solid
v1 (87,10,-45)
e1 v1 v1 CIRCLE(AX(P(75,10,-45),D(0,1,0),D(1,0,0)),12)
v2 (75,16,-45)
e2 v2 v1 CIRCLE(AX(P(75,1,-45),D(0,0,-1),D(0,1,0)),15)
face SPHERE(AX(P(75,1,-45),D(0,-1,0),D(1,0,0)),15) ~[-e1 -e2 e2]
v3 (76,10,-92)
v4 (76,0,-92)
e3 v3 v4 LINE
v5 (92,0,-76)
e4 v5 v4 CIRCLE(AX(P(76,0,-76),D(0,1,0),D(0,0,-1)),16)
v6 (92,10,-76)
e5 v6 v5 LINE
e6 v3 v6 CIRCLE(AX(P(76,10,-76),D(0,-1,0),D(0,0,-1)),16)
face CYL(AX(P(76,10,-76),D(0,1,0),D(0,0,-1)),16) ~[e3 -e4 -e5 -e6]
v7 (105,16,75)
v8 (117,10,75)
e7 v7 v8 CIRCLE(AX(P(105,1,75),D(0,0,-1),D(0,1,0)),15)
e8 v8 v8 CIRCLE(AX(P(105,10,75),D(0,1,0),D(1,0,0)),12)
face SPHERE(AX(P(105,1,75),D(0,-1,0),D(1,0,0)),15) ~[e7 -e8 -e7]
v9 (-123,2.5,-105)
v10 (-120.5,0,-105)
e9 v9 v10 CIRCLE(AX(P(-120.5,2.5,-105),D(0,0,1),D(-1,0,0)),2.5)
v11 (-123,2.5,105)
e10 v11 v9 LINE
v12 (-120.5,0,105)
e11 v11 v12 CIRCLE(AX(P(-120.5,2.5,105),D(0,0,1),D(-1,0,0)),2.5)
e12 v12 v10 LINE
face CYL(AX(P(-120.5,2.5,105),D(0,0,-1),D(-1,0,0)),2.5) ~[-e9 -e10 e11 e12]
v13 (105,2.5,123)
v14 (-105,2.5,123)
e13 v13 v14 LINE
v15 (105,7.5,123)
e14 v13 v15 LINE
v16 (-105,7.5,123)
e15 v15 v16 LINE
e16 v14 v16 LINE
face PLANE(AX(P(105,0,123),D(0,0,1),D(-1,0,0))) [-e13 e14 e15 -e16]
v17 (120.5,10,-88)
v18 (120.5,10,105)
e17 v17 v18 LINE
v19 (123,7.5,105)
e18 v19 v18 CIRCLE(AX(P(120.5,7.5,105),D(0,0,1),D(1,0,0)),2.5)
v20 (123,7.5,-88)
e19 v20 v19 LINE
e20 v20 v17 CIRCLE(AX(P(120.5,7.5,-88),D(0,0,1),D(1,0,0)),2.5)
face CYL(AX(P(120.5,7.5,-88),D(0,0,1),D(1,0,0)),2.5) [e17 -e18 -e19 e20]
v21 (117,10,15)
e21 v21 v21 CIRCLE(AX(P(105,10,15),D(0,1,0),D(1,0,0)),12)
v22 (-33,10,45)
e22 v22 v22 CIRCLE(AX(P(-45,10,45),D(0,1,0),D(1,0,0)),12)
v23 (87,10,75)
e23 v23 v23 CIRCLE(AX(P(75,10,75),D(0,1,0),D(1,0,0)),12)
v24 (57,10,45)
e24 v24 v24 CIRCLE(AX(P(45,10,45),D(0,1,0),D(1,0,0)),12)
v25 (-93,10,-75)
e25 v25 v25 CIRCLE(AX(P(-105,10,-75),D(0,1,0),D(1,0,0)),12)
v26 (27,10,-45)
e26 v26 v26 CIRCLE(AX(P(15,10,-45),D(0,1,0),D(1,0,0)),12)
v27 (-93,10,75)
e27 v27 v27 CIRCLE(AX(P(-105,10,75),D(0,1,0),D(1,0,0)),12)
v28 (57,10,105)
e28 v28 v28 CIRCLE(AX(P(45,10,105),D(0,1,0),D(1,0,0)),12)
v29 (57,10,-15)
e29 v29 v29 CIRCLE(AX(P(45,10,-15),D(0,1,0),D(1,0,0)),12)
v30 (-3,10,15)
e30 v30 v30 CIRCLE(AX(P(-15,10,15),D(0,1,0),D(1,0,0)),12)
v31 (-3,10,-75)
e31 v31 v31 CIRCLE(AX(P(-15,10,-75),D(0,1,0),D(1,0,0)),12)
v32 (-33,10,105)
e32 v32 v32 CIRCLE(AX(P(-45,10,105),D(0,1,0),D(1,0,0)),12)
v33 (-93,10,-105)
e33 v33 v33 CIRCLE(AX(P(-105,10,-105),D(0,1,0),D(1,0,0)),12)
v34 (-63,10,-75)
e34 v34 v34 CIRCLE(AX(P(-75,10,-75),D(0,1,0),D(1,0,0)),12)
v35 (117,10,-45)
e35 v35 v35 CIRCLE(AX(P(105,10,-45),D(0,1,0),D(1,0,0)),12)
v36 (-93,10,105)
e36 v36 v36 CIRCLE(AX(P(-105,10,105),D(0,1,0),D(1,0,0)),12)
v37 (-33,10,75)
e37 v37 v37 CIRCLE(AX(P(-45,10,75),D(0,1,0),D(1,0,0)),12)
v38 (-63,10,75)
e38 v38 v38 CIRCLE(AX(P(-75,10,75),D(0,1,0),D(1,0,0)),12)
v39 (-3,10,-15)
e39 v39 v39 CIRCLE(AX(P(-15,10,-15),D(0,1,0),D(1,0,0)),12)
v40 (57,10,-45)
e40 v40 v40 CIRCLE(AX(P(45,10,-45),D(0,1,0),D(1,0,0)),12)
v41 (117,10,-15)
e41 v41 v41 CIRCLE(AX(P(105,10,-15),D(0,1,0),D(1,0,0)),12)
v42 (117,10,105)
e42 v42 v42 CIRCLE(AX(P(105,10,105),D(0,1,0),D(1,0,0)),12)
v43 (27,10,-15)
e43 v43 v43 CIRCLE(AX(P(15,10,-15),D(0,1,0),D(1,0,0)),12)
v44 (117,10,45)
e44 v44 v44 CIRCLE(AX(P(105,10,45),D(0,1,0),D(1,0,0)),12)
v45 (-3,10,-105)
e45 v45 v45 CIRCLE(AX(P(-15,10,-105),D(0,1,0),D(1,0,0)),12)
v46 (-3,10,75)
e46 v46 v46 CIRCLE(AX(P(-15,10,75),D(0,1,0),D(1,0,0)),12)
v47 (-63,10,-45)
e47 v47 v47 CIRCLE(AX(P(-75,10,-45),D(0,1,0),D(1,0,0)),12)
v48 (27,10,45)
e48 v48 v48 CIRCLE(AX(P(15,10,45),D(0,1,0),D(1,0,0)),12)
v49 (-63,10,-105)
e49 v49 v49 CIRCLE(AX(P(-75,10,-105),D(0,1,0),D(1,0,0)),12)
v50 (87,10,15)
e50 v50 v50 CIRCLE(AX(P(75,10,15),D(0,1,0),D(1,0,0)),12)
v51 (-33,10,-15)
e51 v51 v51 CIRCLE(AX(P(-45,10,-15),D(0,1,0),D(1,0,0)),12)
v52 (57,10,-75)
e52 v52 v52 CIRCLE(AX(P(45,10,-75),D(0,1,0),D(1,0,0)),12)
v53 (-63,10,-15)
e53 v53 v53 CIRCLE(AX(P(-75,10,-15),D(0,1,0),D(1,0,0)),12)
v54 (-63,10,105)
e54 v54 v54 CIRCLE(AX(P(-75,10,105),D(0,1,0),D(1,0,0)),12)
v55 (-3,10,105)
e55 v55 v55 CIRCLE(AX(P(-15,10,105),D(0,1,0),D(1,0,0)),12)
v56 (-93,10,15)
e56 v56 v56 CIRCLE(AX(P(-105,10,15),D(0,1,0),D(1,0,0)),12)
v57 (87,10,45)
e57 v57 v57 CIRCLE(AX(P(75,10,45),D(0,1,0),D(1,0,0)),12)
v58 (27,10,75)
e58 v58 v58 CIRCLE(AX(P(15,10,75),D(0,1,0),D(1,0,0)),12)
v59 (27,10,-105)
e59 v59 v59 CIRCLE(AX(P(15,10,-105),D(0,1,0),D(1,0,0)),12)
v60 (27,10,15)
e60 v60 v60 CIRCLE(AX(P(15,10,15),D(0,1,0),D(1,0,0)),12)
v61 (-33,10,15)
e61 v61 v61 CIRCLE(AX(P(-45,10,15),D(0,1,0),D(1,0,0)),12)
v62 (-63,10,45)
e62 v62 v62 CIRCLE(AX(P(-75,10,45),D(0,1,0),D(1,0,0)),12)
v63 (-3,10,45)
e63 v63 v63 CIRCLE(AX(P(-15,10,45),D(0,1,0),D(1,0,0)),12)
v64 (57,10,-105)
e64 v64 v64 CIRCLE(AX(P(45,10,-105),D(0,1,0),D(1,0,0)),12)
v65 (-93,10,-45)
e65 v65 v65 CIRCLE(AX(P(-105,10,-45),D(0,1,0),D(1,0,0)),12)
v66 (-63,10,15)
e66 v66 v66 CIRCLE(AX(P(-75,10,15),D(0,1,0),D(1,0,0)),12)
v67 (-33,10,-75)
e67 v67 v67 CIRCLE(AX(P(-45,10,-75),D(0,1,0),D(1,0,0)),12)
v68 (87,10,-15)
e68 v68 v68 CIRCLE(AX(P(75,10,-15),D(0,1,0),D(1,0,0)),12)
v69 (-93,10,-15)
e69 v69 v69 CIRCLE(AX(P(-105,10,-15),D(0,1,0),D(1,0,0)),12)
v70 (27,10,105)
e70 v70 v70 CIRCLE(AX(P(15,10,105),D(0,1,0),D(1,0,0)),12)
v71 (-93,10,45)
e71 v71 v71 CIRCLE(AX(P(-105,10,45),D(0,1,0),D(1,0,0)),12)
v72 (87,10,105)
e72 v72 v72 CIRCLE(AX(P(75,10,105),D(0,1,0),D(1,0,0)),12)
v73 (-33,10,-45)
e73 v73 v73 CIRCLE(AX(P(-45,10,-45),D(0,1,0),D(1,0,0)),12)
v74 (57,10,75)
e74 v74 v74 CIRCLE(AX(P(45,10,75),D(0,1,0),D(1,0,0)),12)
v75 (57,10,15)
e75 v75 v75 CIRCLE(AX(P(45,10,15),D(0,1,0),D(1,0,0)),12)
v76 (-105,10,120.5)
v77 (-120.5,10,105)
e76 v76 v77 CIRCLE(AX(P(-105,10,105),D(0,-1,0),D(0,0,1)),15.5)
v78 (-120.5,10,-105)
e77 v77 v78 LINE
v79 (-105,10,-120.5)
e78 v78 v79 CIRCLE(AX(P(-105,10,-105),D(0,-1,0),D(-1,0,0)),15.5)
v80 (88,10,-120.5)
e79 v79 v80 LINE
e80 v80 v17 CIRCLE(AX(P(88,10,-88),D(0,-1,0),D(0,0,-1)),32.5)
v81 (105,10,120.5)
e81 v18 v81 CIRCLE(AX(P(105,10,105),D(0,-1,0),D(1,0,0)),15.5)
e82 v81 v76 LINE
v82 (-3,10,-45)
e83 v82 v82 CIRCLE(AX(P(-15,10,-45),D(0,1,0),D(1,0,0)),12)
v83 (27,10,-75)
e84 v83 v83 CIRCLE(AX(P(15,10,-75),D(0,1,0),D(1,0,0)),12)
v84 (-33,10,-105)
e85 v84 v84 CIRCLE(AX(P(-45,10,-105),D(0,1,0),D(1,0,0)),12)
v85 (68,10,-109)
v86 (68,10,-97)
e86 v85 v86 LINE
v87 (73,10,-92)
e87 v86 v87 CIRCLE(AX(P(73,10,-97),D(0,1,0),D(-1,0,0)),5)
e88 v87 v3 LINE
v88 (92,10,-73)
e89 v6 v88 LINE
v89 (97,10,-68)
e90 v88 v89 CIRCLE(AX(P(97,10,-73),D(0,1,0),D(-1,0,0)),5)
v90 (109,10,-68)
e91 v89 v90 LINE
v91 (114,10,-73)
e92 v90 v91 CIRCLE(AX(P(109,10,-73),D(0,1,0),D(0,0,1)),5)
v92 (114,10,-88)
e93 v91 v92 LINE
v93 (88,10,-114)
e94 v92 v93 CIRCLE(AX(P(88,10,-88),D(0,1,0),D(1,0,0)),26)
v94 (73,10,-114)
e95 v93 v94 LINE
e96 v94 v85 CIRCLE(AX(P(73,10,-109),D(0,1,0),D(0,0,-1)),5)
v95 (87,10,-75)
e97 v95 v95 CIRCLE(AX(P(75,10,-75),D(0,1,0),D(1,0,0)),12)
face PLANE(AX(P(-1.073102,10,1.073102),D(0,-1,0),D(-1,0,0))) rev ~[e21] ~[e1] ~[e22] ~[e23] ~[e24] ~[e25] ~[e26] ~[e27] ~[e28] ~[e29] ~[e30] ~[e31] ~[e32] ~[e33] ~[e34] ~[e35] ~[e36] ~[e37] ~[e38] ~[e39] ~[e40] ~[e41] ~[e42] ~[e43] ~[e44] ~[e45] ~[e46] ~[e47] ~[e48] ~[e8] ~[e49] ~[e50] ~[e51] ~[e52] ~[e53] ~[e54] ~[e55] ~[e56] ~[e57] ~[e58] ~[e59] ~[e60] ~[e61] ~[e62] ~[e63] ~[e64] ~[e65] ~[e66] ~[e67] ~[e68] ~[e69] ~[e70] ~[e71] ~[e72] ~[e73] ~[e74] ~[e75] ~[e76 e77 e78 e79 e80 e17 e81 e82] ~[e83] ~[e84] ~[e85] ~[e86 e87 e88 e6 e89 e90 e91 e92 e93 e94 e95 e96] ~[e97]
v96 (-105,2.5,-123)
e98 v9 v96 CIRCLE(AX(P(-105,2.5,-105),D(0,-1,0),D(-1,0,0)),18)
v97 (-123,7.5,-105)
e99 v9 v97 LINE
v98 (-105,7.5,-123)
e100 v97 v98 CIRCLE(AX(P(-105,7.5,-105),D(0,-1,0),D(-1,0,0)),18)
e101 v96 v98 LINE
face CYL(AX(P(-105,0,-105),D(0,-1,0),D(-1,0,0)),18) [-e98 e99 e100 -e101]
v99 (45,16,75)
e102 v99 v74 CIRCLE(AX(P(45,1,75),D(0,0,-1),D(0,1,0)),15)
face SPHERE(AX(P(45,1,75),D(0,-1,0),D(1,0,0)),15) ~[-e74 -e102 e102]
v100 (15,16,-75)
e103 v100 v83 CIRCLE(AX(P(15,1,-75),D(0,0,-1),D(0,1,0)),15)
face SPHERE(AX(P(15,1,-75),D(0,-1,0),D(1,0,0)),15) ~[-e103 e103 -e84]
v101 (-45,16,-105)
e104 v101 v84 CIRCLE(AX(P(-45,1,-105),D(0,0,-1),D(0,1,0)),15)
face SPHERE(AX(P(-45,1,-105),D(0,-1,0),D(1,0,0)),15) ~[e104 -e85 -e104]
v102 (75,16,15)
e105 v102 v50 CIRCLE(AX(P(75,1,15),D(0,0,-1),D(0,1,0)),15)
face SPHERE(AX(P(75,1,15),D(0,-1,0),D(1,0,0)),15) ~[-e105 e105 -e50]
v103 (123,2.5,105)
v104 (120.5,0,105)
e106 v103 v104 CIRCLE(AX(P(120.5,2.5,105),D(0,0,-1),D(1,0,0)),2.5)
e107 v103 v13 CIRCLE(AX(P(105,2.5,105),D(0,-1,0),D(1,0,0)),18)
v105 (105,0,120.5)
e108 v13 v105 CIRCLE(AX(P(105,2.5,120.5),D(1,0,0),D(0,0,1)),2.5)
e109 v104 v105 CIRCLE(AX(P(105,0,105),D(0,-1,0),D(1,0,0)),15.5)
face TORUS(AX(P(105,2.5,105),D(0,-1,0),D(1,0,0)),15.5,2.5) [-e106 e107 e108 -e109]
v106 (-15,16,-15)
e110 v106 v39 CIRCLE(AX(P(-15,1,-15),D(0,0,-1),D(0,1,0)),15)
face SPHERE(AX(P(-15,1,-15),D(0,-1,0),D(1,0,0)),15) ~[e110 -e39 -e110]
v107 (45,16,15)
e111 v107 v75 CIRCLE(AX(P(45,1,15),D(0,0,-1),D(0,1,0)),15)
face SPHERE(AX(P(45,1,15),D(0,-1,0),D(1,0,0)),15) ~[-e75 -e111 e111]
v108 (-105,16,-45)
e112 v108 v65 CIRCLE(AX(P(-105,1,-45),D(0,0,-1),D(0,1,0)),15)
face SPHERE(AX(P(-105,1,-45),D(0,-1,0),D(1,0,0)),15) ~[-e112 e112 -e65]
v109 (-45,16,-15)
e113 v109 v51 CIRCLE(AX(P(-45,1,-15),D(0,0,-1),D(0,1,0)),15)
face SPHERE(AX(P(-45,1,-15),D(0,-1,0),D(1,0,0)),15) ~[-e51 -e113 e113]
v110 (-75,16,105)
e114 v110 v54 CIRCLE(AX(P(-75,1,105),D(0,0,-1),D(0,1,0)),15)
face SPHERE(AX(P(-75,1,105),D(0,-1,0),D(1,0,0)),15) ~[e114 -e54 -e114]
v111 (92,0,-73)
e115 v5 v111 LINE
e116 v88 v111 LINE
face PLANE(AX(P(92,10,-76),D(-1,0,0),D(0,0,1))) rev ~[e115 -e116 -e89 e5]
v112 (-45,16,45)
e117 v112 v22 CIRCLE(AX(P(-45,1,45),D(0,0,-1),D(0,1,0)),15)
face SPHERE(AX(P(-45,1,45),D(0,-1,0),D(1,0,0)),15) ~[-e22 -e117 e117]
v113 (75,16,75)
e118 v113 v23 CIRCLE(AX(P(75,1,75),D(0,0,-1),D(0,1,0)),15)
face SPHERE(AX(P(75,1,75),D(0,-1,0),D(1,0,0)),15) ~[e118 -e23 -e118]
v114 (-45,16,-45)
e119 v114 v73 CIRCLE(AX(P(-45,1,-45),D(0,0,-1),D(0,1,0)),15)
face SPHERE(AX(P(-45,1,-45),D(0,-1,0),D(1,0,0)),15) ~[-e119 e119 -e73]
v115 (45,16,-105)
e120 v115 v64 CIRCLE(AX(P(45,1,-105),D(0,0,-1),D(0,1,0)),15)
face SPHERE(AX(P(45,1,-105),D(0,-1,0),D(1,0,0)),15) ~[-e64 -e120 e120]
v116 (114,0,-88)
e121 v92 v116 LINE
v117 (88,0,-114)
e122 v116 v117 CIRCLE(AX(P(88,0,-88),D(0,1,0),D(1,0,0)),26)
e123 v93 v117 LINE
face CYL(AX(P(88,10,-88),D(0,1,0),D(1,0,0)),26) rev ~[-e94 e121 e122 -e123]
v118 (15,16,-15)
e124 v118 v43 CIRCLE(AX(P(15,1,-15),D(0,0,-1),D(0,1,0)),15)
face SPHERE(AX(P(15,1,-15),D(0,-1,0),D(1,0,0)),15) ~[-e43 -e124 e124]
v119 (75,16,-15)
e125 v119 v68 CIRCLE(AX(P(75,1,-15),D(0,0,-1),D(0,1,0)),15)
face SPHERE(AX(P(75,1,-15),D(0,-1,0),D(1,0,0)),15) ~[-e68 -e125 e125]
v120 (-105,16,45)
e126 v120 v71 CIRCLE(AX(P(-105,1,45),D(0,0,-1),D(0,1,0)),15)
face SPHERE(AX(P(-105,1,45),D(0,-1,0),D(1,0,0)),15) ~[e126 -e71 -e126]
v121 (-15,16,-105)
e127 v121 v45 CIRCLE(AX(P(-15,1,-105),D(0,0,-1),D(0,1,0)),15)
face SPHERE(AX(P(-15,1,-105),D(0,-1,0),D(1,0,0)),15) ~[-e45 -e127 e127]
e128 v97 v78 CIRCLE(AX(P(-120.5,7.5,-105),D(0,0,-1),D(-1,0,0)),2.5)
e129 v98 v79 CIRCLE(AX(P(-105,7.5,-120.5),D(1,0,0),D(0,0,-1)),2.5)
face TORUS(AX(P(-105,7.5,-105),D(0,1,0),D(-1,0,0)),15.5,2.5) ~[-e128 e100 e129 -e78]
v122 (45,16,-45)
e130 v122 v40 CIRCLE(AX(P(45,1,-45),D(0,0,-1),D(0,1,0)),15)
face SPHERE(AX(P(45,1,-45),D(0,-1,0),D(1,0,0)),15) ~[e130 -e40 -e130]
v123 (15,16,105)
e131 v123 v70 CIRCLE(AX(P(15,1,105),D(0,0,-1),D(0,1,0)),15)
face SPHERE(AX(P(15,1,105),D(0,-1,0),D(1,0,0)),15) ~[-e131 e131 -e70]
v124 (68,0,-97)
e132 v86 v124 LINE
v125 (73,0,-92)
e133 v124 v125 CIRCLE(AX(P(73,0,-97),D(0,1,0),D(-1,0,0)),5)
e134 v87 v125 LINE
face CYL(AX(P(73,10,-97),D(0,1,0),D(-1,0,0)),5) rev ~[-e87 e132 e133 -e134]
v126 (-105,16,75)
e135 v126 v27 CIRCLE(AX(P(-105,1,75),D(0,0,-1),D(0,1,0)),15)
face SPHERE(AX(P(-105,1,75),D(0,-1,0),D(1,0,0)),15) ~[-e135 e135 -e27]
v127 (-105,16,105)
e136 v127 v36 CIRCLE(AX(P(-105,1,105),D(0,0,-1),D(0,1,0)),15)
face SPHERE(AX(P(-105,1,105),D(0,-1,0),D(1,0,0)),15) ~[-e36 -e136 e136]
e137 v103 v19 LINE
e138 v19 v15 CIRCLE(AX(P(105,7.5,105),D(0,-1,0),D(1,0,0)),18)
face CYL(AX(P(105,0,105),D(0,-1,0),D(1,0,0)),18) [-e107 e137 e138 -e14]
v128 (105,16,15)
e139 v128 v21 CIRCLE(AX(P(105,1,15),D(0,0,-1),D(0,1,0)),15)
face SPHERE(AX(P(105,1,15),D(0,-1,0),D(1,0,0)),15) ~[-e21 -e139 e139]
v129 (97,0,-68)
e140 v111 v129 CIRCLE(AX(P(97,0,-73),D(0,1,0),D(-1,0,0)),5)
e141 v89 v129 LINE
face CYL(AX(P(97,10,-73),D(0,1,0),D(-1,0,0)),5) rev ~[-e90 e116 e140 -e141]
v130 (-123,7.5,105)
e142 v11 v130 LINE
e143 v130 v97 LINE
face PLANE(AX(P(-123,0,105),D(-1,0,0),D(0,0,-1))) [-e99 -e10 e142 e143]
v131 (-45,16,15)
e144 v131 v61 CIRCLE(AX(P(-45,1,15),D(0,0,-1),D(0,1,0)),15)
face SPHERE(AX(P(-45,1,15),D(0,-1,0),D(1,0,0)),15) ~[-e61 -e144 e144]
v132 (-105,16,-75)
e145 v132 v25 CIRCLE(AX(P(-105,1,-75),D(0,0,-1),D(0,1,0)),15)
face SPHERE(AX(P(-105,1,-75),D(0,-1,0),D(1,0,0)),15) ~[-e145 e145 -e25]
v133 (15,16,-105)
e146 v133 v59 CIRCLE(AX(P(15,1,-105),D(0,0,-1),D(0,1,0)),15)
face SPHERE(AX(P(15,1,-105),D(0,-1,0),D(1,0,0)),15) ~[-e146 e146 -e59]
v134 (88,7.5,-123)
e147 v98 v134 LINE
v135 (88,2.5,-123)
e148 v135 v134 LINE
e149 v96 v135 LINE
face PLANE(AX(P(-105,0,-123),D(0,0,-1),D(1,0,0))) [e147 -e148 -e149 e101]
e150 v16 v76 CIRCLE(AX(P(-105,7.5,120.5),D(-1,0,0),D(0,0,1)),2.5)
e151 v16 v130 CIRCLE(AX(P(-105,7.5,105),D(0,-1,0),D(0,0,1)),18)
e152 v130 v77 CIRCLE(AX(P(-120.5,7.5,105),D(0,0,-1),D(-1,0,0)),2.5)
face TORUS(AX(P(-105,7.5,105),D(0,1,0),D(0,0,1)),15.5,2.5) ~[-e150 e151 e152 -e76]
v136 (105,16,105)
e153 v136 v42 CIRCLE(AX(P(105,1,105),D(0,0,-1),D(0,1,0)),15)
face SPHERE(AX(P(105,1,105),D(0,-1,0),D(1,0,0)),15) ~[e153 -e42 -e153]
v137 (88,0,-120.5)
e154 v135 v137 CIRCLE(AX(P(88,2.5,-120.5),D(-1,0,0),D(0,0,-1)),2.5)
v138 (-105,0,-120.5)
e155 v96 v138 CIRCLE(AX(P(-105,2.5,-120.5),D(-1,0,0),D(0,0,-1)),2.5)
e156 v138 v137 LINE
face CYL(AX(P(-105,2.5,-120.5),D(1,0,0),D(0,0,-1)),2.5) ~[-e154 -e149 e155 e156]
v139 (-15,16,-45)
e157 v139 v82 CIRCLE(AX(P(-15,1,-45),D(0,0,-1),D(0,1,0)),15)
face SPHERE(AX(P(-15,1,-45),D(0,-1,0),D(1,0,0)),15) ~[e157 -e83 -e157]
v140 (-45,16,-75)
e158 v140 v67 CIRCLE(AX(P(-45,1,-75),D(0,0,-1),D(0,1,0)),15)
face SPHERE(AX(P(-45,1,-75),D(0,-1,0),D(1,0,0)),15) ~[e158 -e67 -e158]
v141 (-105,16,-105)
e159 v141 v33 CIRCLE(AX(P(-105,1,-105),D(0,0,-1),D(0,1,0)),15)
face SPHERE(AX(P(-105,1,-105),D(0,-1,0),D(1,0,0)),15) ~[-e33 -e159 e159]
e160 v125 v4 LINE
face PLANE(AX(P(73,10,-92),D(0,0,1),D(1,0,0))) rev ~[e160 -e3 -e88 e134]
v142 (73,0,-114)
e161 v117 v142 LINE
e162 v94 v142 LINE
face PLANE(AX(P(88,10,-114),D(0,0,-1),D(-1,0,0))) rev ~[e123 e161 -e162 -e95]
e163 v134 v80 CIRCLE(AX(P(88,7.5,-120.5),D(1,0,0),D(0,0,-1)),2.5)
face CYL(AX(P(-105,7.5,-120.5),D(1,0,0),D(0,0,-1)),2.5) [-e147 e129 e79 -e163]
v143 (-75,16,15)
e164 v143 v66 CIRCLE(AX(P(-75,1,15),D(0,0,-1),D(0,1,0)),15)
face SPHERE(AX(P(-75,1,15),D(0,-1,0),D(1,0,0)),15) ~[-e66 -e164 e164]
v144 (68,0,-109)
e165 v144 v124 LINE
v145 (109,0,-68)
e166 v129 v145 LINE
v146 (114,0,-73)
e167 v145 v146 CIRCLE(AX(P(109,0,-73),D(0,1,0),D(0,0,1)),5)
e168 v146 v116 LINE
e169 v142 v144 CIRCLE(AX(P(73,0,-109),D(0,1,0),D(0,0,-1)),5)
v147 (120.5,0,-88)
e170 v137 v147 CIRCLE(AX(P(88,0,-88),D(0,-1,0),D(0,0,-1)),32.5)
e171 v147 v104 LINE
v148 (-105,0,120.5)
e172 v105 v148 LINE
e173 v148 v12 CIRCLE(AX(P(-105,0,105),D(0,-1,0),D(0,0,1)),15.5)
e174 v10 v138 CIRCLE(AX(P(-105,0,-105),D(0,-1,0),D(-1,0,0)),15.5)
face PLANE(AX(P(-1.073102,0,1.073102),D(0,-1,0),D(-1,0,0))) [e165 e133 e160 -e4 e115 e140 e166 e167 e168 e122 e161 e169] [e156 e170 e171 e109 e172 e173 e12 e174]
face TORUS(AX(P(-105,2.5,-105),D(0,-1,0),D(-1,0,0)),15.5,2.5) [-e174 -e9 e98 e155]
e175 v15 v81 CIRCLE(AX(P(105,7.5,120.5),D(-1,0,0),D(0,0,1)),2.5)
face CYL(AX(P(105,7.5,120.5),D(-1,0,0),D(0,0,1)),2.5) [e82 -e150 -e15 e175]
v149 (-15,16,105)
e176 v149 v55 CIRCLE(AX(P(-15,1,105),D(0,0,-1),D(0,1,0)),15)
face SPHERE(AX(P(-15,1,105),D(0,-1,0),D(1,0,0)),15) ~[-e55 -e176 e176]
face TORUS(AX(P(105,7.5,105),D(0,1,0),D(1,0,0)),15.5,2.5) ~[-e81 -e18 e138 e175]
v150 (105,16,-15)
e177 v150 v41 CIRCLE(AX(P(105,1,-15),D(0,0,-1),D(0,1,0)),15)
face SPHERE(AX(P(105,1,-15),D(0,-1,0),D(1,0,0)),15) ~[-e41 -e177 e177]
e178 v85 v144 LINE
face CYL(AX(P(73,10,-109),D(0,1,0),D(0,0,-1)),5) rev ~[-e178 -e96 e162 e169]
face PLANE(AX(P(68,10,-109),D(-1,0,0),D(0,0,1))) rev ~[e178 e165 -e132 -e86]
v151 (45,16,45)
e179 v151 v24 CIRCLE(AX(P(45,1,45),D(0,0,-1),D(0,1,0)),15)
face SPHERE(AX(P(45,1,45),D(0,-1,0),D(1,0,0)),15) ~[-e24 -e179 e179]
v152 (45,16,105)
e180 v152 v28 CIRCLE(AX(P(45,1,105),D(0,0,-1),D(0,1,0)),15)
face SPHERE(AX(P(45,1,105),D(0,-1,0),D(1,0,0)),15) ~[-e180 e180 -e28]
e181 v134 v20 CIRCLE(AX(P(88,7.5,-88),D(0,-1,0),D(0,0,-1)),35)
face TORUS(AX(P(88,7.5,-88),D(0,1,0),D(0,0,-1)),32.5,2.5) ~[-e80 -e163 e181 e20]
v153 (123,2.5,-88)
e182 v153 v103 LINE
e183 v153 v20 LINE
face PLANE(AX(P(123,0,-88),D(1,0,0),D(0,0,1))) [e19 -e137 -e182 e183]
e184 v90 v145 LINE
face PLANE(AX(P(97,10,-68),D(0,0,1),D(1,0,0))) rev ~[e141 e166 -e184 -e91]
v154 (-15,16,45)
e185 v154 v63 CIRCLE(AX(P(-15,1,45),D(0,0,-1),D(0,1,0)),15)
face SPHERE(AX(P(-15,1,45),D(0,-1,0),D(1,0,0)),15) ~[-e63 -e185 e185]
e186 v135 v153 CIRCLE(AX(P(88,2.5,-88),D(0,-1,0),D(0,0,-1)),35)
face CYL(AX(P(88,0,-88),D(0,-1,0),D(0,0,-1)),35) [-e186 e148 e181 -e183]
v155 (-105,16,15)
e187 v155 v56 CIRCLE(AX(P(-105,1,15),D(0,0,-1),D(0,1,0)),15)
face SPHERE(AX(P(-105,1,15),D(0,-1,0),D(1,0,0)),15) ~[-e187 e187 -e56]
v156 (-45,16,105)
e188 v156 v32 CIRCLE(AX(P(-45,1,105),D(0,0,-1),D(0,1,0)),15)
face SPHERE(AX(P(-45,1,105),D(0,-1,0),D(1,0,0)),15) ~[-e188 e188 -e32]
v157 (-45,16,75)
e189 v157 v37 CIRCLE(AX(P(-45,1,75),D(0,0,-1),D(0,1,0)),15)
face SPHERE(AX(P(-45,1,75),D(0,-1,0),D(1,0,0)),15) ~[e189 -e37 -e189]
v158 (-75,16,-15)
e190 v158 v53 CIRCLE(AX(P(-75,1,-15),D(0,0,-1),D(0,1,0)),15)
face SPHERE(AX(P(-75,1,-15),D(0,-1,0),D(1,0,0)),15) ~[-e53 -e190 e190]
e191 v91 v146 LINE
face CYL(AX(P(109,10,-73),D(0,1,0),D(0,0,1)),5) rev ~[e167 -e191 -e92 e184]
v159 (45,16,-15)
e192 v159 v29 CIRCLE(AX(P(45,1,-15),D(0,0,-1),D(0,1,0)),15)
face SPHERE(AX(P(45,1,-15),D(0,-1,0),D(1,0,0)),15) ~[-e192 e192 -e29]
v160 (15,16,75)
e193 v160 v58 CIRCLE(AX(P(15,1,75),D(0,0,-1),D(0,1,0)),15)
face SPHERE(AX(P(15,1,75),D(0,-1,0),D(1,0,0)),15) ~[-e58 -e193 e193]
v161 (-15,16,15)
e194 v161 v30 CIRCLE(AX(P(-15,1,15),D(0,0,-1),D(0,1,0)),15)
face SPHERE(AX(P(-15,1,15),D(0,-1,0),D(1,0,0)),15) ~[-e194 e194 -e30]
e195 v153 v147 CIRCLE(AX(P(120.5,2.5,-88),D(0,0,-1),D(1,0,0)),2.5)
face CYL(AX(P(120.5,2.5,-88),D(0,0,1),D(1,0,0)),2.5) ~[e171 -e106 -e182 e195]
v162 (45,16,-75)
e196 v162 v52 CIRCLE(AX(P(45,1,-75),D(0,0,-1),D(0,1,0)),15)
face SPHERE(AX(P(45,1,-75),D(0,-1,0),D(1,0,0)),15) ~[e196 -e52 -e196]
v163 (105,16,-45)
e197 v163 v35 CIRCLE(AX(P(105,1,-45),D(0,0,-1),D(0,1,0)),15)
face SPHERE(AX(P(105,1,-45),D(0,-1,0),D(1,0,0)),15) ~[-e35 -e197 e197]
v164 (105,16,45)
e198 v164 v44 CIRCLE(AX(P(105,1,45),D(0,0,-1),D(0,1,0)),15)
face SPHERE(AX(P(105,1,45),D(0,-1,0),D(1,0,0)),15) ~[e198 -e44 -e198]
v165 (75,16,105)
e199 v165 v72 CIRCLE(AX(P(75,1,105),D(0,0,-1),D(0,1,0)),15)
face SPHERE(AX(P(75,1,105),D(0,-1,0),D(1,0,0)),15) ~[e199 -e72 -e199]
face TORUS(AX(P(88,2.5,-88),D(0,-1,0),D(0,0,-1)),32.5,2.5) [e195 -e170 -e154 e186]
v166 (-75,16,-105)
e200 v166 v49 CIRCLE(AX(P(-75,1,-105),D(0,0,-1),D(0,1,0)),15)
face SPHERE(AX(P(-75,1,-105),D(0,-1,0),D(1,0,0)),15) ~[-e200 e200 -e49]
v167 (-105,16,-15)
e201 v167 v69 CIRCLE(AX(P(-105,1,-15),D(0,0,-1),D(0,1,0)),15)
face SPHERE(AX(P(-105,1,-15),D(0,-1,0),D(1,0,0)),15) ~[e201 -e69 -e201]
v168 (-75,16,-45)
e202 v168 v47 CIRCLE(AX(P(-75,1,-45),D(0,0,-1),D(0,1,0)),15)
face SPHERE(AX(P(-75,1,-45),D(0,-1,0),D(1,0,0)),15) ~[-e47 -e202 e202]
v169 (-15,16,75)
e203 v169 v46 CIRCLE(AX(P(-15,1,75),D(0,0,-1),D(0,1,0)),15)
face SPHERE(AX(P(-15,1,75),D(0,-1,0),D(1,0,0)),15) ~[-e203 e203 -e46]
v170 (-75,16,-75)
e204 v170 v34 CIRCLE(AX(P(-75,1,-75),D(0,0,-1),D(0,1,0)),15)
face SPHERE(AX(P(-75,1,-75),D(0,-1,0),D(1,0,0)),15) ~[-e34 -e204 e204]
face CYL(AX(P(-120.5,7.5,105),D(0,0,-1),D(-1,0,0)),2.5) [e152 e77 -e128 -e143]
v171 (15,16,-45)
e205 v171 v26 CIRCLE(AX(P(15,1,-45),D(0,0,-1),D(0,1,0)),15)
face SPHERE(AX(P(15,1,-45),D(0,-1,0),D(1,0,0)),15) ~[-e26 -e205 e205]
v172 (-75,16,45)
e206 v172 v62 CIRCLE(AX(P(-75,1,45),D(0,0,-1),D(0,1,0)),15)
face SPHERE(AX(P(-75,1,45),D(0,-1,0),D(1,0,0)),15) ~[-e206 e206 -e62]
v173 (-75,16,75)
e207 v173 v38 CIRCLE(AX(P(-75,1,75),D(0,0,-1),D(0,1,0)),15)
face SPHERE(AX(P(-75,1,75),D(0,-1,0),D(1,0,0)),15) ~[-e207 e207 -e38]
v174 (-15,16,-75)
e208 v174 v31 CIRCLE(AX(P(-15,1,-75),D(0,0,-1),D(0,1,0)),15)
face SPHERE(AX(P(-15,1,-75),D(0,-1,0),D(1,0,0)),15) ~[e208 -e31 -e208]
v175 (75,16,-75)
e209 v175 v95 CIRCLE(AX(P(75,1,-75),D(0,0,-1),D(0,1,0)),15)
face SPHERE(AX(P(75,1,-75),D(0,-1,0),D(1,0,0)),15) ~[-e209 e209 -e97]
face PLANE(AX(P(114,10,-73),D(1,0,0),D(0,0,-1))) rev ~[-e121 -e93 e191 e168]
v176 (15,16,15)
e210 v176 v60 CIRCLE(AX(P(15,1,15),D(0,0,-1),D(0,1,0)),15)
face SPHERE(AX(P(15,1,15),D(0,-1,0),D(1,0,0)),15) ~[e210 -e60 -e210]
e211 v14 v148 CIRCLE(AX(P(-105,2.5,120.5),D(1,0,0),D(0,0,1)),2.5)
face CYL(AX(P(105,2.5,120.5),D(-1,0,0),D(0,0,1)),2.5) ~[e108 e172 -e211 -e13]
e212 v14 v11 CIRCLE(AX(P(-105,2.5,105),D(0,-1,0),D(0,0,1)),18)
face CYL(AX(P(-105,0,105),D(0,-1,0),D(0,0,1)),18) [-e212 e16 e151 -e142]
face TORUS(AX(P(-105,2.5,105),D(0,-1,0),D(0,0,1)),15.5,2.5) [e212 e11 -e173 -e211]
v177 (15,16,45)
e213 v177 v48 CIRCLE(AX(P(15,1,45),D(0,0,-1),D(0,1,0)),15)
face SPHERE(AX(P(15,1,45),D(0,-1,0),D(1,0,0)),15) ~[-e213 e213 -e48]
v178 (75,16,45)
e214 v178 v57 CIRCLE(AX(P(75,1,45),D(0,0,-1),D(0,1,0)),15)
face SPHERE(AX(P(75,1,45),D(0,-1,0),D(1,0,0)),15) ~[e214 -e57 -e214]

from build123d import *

# Parameters (mm, degrees)
BOSS_EXTRUDE1_DEPTH  = 10
CUT_EXTRUDE1_REACH   = 176.235
FILLET1_R            = 2.5
LPATTERN1_COUNT      = 8
LPATTERN1_PITCH      = 30
LPATTERN1_COUNT_DIR2 = 8
LPATTERN1_PITCH_DIR2 = 30


with BuildPart() as part:
    # Sketch1 → Boss-Extrude1 (new body)
    with BuildSketch(Plane(origin=(0, 0, 0), x_dir=(1, 0, 0), z_dir=(0, 1, 0))):
        with BuildLine():
            Line((-105, 123), (88, 123))
            ThreePointArc((88, 123), (112.748737342, 112.748737342), (123, 88))
            Line((123, 88), (123, -105))
            ThreePointArc((123, -105), (117.727922061, -117.727922061), (105, -123))
            Line((105, -123), (-105, -123))
            ThreePointArc((-105, -123), (-117.727922061, -117.727922061), (-123, -105))
            Line((-123, -105), (-123, 105))
            ThreePointArc((-123, 105), (-117.727922061, 117.727922061), (-105, 123))
        make_face()
    extrude(amount=BOSS_EXTRUDE1_DEPTH)

    # Sketch4 → Cut-Extrude1 (cut, up to next)
    with BuildSketch(Plane(origin=(0, 10, 0), x_dir=(1, 0, 0), z_dir=(0, 1, 0)), mode=Mode.PRIVATE) as cut_extrude1_sk1:
        with BuildLine():
            Line((92, 76), (92, 73))
            ThreePointArc((92, 73), (93.464466094, 69.464466094), (97, 68))
            Line((97, 68), (109, 68))
            ThreePointArc((109, 68), (112.535533906, 69.464466094), (114, 73))
            Line((114, 73), (114, 88))
            ThreePointArc((114, 88), (106.384776311, 106.384776311), (88, 114))
            Line((88, 114), (73, 114))
            ThreePointArc((73, 114), (69.464466094, 112.535533906), (68, 109))
            Line((68, 109), (68, 97))
            ThreePointArc((68, 97), (69.464466094, 93.464466094), (73, 92))
            Line((73, 92), (76, 92))
            ThreePointArc((76, 92), (87.313708499, 87.313708499), (92, 76))
        make_face()
    cut_extrude1_tool1 = extrude(cut_extrude1_sk1.sketch, amount=-CUT_EXTRUDE1_REACH, mode=Mode.PRIVATE) & part.part
    add(cut_extrude1_tool1.solids().sort_by_distance((93.664872, 10, -93.664872))[0], mode=Mode.SUBTRACT)

    # Fillet1
    fillet1_edges = [part.edges().sort_by_distance(p)[0] for p in [
        (-8.5, 0, -123),
        (112.748737342, 0, -112.748737342),
        (123, 0, 8.5),
        (117.727922061, 0, 117.727922061),
        (112.748737342, 10, -112.748737342),
        (-8.5, 10, -123),
        (-117.727922061, 10, -117.727922061),
        (-123, 10, 0),
        (-117.727922061, 10, 117.727922061),
        (0, 10, 123),
        (117.727922061, 10, 117.727922061),
        (0, 0, 123),
        (123, 10, 8.5),
        (-117.727922061, 0, 117.727922061),
        (-123, 0, 0),
        (-117.727922061, 0, -117.727922061),
    ]]
    fillet(fillet1_edges, radius=FILLET1_R)

    # Sketch5 → Revolve1 (revolve)
    with BuildSketch(Plane.XY.offset(105)):
        with BuildLine():
            Line((105, 10), (105, 16))
            ThreePointArc((105, 16), (111.708203932, 14.416407865), (117, 10))
            Line((117, 10), (105, 10))
        make_face()
    revolve1 = revolve(axis=Axis((105, 10, 105), (0, 1, 0)))

    # LPattern1: Revolve1 8 × 8, 3 skipped
    with Locations(*[(-i * LPATTERN1_PITCH, 0, -j * LPATTERN1_PITCH_DIR2) for i in range(LPATTERN1_COUNT) for j in range(LPATTERN1_COUNT_DIR2) if (i, j) not in ((0, 0), (0, 6), (0, 7), (1, 7))]):
        add(revolve1)


solid = part.part
